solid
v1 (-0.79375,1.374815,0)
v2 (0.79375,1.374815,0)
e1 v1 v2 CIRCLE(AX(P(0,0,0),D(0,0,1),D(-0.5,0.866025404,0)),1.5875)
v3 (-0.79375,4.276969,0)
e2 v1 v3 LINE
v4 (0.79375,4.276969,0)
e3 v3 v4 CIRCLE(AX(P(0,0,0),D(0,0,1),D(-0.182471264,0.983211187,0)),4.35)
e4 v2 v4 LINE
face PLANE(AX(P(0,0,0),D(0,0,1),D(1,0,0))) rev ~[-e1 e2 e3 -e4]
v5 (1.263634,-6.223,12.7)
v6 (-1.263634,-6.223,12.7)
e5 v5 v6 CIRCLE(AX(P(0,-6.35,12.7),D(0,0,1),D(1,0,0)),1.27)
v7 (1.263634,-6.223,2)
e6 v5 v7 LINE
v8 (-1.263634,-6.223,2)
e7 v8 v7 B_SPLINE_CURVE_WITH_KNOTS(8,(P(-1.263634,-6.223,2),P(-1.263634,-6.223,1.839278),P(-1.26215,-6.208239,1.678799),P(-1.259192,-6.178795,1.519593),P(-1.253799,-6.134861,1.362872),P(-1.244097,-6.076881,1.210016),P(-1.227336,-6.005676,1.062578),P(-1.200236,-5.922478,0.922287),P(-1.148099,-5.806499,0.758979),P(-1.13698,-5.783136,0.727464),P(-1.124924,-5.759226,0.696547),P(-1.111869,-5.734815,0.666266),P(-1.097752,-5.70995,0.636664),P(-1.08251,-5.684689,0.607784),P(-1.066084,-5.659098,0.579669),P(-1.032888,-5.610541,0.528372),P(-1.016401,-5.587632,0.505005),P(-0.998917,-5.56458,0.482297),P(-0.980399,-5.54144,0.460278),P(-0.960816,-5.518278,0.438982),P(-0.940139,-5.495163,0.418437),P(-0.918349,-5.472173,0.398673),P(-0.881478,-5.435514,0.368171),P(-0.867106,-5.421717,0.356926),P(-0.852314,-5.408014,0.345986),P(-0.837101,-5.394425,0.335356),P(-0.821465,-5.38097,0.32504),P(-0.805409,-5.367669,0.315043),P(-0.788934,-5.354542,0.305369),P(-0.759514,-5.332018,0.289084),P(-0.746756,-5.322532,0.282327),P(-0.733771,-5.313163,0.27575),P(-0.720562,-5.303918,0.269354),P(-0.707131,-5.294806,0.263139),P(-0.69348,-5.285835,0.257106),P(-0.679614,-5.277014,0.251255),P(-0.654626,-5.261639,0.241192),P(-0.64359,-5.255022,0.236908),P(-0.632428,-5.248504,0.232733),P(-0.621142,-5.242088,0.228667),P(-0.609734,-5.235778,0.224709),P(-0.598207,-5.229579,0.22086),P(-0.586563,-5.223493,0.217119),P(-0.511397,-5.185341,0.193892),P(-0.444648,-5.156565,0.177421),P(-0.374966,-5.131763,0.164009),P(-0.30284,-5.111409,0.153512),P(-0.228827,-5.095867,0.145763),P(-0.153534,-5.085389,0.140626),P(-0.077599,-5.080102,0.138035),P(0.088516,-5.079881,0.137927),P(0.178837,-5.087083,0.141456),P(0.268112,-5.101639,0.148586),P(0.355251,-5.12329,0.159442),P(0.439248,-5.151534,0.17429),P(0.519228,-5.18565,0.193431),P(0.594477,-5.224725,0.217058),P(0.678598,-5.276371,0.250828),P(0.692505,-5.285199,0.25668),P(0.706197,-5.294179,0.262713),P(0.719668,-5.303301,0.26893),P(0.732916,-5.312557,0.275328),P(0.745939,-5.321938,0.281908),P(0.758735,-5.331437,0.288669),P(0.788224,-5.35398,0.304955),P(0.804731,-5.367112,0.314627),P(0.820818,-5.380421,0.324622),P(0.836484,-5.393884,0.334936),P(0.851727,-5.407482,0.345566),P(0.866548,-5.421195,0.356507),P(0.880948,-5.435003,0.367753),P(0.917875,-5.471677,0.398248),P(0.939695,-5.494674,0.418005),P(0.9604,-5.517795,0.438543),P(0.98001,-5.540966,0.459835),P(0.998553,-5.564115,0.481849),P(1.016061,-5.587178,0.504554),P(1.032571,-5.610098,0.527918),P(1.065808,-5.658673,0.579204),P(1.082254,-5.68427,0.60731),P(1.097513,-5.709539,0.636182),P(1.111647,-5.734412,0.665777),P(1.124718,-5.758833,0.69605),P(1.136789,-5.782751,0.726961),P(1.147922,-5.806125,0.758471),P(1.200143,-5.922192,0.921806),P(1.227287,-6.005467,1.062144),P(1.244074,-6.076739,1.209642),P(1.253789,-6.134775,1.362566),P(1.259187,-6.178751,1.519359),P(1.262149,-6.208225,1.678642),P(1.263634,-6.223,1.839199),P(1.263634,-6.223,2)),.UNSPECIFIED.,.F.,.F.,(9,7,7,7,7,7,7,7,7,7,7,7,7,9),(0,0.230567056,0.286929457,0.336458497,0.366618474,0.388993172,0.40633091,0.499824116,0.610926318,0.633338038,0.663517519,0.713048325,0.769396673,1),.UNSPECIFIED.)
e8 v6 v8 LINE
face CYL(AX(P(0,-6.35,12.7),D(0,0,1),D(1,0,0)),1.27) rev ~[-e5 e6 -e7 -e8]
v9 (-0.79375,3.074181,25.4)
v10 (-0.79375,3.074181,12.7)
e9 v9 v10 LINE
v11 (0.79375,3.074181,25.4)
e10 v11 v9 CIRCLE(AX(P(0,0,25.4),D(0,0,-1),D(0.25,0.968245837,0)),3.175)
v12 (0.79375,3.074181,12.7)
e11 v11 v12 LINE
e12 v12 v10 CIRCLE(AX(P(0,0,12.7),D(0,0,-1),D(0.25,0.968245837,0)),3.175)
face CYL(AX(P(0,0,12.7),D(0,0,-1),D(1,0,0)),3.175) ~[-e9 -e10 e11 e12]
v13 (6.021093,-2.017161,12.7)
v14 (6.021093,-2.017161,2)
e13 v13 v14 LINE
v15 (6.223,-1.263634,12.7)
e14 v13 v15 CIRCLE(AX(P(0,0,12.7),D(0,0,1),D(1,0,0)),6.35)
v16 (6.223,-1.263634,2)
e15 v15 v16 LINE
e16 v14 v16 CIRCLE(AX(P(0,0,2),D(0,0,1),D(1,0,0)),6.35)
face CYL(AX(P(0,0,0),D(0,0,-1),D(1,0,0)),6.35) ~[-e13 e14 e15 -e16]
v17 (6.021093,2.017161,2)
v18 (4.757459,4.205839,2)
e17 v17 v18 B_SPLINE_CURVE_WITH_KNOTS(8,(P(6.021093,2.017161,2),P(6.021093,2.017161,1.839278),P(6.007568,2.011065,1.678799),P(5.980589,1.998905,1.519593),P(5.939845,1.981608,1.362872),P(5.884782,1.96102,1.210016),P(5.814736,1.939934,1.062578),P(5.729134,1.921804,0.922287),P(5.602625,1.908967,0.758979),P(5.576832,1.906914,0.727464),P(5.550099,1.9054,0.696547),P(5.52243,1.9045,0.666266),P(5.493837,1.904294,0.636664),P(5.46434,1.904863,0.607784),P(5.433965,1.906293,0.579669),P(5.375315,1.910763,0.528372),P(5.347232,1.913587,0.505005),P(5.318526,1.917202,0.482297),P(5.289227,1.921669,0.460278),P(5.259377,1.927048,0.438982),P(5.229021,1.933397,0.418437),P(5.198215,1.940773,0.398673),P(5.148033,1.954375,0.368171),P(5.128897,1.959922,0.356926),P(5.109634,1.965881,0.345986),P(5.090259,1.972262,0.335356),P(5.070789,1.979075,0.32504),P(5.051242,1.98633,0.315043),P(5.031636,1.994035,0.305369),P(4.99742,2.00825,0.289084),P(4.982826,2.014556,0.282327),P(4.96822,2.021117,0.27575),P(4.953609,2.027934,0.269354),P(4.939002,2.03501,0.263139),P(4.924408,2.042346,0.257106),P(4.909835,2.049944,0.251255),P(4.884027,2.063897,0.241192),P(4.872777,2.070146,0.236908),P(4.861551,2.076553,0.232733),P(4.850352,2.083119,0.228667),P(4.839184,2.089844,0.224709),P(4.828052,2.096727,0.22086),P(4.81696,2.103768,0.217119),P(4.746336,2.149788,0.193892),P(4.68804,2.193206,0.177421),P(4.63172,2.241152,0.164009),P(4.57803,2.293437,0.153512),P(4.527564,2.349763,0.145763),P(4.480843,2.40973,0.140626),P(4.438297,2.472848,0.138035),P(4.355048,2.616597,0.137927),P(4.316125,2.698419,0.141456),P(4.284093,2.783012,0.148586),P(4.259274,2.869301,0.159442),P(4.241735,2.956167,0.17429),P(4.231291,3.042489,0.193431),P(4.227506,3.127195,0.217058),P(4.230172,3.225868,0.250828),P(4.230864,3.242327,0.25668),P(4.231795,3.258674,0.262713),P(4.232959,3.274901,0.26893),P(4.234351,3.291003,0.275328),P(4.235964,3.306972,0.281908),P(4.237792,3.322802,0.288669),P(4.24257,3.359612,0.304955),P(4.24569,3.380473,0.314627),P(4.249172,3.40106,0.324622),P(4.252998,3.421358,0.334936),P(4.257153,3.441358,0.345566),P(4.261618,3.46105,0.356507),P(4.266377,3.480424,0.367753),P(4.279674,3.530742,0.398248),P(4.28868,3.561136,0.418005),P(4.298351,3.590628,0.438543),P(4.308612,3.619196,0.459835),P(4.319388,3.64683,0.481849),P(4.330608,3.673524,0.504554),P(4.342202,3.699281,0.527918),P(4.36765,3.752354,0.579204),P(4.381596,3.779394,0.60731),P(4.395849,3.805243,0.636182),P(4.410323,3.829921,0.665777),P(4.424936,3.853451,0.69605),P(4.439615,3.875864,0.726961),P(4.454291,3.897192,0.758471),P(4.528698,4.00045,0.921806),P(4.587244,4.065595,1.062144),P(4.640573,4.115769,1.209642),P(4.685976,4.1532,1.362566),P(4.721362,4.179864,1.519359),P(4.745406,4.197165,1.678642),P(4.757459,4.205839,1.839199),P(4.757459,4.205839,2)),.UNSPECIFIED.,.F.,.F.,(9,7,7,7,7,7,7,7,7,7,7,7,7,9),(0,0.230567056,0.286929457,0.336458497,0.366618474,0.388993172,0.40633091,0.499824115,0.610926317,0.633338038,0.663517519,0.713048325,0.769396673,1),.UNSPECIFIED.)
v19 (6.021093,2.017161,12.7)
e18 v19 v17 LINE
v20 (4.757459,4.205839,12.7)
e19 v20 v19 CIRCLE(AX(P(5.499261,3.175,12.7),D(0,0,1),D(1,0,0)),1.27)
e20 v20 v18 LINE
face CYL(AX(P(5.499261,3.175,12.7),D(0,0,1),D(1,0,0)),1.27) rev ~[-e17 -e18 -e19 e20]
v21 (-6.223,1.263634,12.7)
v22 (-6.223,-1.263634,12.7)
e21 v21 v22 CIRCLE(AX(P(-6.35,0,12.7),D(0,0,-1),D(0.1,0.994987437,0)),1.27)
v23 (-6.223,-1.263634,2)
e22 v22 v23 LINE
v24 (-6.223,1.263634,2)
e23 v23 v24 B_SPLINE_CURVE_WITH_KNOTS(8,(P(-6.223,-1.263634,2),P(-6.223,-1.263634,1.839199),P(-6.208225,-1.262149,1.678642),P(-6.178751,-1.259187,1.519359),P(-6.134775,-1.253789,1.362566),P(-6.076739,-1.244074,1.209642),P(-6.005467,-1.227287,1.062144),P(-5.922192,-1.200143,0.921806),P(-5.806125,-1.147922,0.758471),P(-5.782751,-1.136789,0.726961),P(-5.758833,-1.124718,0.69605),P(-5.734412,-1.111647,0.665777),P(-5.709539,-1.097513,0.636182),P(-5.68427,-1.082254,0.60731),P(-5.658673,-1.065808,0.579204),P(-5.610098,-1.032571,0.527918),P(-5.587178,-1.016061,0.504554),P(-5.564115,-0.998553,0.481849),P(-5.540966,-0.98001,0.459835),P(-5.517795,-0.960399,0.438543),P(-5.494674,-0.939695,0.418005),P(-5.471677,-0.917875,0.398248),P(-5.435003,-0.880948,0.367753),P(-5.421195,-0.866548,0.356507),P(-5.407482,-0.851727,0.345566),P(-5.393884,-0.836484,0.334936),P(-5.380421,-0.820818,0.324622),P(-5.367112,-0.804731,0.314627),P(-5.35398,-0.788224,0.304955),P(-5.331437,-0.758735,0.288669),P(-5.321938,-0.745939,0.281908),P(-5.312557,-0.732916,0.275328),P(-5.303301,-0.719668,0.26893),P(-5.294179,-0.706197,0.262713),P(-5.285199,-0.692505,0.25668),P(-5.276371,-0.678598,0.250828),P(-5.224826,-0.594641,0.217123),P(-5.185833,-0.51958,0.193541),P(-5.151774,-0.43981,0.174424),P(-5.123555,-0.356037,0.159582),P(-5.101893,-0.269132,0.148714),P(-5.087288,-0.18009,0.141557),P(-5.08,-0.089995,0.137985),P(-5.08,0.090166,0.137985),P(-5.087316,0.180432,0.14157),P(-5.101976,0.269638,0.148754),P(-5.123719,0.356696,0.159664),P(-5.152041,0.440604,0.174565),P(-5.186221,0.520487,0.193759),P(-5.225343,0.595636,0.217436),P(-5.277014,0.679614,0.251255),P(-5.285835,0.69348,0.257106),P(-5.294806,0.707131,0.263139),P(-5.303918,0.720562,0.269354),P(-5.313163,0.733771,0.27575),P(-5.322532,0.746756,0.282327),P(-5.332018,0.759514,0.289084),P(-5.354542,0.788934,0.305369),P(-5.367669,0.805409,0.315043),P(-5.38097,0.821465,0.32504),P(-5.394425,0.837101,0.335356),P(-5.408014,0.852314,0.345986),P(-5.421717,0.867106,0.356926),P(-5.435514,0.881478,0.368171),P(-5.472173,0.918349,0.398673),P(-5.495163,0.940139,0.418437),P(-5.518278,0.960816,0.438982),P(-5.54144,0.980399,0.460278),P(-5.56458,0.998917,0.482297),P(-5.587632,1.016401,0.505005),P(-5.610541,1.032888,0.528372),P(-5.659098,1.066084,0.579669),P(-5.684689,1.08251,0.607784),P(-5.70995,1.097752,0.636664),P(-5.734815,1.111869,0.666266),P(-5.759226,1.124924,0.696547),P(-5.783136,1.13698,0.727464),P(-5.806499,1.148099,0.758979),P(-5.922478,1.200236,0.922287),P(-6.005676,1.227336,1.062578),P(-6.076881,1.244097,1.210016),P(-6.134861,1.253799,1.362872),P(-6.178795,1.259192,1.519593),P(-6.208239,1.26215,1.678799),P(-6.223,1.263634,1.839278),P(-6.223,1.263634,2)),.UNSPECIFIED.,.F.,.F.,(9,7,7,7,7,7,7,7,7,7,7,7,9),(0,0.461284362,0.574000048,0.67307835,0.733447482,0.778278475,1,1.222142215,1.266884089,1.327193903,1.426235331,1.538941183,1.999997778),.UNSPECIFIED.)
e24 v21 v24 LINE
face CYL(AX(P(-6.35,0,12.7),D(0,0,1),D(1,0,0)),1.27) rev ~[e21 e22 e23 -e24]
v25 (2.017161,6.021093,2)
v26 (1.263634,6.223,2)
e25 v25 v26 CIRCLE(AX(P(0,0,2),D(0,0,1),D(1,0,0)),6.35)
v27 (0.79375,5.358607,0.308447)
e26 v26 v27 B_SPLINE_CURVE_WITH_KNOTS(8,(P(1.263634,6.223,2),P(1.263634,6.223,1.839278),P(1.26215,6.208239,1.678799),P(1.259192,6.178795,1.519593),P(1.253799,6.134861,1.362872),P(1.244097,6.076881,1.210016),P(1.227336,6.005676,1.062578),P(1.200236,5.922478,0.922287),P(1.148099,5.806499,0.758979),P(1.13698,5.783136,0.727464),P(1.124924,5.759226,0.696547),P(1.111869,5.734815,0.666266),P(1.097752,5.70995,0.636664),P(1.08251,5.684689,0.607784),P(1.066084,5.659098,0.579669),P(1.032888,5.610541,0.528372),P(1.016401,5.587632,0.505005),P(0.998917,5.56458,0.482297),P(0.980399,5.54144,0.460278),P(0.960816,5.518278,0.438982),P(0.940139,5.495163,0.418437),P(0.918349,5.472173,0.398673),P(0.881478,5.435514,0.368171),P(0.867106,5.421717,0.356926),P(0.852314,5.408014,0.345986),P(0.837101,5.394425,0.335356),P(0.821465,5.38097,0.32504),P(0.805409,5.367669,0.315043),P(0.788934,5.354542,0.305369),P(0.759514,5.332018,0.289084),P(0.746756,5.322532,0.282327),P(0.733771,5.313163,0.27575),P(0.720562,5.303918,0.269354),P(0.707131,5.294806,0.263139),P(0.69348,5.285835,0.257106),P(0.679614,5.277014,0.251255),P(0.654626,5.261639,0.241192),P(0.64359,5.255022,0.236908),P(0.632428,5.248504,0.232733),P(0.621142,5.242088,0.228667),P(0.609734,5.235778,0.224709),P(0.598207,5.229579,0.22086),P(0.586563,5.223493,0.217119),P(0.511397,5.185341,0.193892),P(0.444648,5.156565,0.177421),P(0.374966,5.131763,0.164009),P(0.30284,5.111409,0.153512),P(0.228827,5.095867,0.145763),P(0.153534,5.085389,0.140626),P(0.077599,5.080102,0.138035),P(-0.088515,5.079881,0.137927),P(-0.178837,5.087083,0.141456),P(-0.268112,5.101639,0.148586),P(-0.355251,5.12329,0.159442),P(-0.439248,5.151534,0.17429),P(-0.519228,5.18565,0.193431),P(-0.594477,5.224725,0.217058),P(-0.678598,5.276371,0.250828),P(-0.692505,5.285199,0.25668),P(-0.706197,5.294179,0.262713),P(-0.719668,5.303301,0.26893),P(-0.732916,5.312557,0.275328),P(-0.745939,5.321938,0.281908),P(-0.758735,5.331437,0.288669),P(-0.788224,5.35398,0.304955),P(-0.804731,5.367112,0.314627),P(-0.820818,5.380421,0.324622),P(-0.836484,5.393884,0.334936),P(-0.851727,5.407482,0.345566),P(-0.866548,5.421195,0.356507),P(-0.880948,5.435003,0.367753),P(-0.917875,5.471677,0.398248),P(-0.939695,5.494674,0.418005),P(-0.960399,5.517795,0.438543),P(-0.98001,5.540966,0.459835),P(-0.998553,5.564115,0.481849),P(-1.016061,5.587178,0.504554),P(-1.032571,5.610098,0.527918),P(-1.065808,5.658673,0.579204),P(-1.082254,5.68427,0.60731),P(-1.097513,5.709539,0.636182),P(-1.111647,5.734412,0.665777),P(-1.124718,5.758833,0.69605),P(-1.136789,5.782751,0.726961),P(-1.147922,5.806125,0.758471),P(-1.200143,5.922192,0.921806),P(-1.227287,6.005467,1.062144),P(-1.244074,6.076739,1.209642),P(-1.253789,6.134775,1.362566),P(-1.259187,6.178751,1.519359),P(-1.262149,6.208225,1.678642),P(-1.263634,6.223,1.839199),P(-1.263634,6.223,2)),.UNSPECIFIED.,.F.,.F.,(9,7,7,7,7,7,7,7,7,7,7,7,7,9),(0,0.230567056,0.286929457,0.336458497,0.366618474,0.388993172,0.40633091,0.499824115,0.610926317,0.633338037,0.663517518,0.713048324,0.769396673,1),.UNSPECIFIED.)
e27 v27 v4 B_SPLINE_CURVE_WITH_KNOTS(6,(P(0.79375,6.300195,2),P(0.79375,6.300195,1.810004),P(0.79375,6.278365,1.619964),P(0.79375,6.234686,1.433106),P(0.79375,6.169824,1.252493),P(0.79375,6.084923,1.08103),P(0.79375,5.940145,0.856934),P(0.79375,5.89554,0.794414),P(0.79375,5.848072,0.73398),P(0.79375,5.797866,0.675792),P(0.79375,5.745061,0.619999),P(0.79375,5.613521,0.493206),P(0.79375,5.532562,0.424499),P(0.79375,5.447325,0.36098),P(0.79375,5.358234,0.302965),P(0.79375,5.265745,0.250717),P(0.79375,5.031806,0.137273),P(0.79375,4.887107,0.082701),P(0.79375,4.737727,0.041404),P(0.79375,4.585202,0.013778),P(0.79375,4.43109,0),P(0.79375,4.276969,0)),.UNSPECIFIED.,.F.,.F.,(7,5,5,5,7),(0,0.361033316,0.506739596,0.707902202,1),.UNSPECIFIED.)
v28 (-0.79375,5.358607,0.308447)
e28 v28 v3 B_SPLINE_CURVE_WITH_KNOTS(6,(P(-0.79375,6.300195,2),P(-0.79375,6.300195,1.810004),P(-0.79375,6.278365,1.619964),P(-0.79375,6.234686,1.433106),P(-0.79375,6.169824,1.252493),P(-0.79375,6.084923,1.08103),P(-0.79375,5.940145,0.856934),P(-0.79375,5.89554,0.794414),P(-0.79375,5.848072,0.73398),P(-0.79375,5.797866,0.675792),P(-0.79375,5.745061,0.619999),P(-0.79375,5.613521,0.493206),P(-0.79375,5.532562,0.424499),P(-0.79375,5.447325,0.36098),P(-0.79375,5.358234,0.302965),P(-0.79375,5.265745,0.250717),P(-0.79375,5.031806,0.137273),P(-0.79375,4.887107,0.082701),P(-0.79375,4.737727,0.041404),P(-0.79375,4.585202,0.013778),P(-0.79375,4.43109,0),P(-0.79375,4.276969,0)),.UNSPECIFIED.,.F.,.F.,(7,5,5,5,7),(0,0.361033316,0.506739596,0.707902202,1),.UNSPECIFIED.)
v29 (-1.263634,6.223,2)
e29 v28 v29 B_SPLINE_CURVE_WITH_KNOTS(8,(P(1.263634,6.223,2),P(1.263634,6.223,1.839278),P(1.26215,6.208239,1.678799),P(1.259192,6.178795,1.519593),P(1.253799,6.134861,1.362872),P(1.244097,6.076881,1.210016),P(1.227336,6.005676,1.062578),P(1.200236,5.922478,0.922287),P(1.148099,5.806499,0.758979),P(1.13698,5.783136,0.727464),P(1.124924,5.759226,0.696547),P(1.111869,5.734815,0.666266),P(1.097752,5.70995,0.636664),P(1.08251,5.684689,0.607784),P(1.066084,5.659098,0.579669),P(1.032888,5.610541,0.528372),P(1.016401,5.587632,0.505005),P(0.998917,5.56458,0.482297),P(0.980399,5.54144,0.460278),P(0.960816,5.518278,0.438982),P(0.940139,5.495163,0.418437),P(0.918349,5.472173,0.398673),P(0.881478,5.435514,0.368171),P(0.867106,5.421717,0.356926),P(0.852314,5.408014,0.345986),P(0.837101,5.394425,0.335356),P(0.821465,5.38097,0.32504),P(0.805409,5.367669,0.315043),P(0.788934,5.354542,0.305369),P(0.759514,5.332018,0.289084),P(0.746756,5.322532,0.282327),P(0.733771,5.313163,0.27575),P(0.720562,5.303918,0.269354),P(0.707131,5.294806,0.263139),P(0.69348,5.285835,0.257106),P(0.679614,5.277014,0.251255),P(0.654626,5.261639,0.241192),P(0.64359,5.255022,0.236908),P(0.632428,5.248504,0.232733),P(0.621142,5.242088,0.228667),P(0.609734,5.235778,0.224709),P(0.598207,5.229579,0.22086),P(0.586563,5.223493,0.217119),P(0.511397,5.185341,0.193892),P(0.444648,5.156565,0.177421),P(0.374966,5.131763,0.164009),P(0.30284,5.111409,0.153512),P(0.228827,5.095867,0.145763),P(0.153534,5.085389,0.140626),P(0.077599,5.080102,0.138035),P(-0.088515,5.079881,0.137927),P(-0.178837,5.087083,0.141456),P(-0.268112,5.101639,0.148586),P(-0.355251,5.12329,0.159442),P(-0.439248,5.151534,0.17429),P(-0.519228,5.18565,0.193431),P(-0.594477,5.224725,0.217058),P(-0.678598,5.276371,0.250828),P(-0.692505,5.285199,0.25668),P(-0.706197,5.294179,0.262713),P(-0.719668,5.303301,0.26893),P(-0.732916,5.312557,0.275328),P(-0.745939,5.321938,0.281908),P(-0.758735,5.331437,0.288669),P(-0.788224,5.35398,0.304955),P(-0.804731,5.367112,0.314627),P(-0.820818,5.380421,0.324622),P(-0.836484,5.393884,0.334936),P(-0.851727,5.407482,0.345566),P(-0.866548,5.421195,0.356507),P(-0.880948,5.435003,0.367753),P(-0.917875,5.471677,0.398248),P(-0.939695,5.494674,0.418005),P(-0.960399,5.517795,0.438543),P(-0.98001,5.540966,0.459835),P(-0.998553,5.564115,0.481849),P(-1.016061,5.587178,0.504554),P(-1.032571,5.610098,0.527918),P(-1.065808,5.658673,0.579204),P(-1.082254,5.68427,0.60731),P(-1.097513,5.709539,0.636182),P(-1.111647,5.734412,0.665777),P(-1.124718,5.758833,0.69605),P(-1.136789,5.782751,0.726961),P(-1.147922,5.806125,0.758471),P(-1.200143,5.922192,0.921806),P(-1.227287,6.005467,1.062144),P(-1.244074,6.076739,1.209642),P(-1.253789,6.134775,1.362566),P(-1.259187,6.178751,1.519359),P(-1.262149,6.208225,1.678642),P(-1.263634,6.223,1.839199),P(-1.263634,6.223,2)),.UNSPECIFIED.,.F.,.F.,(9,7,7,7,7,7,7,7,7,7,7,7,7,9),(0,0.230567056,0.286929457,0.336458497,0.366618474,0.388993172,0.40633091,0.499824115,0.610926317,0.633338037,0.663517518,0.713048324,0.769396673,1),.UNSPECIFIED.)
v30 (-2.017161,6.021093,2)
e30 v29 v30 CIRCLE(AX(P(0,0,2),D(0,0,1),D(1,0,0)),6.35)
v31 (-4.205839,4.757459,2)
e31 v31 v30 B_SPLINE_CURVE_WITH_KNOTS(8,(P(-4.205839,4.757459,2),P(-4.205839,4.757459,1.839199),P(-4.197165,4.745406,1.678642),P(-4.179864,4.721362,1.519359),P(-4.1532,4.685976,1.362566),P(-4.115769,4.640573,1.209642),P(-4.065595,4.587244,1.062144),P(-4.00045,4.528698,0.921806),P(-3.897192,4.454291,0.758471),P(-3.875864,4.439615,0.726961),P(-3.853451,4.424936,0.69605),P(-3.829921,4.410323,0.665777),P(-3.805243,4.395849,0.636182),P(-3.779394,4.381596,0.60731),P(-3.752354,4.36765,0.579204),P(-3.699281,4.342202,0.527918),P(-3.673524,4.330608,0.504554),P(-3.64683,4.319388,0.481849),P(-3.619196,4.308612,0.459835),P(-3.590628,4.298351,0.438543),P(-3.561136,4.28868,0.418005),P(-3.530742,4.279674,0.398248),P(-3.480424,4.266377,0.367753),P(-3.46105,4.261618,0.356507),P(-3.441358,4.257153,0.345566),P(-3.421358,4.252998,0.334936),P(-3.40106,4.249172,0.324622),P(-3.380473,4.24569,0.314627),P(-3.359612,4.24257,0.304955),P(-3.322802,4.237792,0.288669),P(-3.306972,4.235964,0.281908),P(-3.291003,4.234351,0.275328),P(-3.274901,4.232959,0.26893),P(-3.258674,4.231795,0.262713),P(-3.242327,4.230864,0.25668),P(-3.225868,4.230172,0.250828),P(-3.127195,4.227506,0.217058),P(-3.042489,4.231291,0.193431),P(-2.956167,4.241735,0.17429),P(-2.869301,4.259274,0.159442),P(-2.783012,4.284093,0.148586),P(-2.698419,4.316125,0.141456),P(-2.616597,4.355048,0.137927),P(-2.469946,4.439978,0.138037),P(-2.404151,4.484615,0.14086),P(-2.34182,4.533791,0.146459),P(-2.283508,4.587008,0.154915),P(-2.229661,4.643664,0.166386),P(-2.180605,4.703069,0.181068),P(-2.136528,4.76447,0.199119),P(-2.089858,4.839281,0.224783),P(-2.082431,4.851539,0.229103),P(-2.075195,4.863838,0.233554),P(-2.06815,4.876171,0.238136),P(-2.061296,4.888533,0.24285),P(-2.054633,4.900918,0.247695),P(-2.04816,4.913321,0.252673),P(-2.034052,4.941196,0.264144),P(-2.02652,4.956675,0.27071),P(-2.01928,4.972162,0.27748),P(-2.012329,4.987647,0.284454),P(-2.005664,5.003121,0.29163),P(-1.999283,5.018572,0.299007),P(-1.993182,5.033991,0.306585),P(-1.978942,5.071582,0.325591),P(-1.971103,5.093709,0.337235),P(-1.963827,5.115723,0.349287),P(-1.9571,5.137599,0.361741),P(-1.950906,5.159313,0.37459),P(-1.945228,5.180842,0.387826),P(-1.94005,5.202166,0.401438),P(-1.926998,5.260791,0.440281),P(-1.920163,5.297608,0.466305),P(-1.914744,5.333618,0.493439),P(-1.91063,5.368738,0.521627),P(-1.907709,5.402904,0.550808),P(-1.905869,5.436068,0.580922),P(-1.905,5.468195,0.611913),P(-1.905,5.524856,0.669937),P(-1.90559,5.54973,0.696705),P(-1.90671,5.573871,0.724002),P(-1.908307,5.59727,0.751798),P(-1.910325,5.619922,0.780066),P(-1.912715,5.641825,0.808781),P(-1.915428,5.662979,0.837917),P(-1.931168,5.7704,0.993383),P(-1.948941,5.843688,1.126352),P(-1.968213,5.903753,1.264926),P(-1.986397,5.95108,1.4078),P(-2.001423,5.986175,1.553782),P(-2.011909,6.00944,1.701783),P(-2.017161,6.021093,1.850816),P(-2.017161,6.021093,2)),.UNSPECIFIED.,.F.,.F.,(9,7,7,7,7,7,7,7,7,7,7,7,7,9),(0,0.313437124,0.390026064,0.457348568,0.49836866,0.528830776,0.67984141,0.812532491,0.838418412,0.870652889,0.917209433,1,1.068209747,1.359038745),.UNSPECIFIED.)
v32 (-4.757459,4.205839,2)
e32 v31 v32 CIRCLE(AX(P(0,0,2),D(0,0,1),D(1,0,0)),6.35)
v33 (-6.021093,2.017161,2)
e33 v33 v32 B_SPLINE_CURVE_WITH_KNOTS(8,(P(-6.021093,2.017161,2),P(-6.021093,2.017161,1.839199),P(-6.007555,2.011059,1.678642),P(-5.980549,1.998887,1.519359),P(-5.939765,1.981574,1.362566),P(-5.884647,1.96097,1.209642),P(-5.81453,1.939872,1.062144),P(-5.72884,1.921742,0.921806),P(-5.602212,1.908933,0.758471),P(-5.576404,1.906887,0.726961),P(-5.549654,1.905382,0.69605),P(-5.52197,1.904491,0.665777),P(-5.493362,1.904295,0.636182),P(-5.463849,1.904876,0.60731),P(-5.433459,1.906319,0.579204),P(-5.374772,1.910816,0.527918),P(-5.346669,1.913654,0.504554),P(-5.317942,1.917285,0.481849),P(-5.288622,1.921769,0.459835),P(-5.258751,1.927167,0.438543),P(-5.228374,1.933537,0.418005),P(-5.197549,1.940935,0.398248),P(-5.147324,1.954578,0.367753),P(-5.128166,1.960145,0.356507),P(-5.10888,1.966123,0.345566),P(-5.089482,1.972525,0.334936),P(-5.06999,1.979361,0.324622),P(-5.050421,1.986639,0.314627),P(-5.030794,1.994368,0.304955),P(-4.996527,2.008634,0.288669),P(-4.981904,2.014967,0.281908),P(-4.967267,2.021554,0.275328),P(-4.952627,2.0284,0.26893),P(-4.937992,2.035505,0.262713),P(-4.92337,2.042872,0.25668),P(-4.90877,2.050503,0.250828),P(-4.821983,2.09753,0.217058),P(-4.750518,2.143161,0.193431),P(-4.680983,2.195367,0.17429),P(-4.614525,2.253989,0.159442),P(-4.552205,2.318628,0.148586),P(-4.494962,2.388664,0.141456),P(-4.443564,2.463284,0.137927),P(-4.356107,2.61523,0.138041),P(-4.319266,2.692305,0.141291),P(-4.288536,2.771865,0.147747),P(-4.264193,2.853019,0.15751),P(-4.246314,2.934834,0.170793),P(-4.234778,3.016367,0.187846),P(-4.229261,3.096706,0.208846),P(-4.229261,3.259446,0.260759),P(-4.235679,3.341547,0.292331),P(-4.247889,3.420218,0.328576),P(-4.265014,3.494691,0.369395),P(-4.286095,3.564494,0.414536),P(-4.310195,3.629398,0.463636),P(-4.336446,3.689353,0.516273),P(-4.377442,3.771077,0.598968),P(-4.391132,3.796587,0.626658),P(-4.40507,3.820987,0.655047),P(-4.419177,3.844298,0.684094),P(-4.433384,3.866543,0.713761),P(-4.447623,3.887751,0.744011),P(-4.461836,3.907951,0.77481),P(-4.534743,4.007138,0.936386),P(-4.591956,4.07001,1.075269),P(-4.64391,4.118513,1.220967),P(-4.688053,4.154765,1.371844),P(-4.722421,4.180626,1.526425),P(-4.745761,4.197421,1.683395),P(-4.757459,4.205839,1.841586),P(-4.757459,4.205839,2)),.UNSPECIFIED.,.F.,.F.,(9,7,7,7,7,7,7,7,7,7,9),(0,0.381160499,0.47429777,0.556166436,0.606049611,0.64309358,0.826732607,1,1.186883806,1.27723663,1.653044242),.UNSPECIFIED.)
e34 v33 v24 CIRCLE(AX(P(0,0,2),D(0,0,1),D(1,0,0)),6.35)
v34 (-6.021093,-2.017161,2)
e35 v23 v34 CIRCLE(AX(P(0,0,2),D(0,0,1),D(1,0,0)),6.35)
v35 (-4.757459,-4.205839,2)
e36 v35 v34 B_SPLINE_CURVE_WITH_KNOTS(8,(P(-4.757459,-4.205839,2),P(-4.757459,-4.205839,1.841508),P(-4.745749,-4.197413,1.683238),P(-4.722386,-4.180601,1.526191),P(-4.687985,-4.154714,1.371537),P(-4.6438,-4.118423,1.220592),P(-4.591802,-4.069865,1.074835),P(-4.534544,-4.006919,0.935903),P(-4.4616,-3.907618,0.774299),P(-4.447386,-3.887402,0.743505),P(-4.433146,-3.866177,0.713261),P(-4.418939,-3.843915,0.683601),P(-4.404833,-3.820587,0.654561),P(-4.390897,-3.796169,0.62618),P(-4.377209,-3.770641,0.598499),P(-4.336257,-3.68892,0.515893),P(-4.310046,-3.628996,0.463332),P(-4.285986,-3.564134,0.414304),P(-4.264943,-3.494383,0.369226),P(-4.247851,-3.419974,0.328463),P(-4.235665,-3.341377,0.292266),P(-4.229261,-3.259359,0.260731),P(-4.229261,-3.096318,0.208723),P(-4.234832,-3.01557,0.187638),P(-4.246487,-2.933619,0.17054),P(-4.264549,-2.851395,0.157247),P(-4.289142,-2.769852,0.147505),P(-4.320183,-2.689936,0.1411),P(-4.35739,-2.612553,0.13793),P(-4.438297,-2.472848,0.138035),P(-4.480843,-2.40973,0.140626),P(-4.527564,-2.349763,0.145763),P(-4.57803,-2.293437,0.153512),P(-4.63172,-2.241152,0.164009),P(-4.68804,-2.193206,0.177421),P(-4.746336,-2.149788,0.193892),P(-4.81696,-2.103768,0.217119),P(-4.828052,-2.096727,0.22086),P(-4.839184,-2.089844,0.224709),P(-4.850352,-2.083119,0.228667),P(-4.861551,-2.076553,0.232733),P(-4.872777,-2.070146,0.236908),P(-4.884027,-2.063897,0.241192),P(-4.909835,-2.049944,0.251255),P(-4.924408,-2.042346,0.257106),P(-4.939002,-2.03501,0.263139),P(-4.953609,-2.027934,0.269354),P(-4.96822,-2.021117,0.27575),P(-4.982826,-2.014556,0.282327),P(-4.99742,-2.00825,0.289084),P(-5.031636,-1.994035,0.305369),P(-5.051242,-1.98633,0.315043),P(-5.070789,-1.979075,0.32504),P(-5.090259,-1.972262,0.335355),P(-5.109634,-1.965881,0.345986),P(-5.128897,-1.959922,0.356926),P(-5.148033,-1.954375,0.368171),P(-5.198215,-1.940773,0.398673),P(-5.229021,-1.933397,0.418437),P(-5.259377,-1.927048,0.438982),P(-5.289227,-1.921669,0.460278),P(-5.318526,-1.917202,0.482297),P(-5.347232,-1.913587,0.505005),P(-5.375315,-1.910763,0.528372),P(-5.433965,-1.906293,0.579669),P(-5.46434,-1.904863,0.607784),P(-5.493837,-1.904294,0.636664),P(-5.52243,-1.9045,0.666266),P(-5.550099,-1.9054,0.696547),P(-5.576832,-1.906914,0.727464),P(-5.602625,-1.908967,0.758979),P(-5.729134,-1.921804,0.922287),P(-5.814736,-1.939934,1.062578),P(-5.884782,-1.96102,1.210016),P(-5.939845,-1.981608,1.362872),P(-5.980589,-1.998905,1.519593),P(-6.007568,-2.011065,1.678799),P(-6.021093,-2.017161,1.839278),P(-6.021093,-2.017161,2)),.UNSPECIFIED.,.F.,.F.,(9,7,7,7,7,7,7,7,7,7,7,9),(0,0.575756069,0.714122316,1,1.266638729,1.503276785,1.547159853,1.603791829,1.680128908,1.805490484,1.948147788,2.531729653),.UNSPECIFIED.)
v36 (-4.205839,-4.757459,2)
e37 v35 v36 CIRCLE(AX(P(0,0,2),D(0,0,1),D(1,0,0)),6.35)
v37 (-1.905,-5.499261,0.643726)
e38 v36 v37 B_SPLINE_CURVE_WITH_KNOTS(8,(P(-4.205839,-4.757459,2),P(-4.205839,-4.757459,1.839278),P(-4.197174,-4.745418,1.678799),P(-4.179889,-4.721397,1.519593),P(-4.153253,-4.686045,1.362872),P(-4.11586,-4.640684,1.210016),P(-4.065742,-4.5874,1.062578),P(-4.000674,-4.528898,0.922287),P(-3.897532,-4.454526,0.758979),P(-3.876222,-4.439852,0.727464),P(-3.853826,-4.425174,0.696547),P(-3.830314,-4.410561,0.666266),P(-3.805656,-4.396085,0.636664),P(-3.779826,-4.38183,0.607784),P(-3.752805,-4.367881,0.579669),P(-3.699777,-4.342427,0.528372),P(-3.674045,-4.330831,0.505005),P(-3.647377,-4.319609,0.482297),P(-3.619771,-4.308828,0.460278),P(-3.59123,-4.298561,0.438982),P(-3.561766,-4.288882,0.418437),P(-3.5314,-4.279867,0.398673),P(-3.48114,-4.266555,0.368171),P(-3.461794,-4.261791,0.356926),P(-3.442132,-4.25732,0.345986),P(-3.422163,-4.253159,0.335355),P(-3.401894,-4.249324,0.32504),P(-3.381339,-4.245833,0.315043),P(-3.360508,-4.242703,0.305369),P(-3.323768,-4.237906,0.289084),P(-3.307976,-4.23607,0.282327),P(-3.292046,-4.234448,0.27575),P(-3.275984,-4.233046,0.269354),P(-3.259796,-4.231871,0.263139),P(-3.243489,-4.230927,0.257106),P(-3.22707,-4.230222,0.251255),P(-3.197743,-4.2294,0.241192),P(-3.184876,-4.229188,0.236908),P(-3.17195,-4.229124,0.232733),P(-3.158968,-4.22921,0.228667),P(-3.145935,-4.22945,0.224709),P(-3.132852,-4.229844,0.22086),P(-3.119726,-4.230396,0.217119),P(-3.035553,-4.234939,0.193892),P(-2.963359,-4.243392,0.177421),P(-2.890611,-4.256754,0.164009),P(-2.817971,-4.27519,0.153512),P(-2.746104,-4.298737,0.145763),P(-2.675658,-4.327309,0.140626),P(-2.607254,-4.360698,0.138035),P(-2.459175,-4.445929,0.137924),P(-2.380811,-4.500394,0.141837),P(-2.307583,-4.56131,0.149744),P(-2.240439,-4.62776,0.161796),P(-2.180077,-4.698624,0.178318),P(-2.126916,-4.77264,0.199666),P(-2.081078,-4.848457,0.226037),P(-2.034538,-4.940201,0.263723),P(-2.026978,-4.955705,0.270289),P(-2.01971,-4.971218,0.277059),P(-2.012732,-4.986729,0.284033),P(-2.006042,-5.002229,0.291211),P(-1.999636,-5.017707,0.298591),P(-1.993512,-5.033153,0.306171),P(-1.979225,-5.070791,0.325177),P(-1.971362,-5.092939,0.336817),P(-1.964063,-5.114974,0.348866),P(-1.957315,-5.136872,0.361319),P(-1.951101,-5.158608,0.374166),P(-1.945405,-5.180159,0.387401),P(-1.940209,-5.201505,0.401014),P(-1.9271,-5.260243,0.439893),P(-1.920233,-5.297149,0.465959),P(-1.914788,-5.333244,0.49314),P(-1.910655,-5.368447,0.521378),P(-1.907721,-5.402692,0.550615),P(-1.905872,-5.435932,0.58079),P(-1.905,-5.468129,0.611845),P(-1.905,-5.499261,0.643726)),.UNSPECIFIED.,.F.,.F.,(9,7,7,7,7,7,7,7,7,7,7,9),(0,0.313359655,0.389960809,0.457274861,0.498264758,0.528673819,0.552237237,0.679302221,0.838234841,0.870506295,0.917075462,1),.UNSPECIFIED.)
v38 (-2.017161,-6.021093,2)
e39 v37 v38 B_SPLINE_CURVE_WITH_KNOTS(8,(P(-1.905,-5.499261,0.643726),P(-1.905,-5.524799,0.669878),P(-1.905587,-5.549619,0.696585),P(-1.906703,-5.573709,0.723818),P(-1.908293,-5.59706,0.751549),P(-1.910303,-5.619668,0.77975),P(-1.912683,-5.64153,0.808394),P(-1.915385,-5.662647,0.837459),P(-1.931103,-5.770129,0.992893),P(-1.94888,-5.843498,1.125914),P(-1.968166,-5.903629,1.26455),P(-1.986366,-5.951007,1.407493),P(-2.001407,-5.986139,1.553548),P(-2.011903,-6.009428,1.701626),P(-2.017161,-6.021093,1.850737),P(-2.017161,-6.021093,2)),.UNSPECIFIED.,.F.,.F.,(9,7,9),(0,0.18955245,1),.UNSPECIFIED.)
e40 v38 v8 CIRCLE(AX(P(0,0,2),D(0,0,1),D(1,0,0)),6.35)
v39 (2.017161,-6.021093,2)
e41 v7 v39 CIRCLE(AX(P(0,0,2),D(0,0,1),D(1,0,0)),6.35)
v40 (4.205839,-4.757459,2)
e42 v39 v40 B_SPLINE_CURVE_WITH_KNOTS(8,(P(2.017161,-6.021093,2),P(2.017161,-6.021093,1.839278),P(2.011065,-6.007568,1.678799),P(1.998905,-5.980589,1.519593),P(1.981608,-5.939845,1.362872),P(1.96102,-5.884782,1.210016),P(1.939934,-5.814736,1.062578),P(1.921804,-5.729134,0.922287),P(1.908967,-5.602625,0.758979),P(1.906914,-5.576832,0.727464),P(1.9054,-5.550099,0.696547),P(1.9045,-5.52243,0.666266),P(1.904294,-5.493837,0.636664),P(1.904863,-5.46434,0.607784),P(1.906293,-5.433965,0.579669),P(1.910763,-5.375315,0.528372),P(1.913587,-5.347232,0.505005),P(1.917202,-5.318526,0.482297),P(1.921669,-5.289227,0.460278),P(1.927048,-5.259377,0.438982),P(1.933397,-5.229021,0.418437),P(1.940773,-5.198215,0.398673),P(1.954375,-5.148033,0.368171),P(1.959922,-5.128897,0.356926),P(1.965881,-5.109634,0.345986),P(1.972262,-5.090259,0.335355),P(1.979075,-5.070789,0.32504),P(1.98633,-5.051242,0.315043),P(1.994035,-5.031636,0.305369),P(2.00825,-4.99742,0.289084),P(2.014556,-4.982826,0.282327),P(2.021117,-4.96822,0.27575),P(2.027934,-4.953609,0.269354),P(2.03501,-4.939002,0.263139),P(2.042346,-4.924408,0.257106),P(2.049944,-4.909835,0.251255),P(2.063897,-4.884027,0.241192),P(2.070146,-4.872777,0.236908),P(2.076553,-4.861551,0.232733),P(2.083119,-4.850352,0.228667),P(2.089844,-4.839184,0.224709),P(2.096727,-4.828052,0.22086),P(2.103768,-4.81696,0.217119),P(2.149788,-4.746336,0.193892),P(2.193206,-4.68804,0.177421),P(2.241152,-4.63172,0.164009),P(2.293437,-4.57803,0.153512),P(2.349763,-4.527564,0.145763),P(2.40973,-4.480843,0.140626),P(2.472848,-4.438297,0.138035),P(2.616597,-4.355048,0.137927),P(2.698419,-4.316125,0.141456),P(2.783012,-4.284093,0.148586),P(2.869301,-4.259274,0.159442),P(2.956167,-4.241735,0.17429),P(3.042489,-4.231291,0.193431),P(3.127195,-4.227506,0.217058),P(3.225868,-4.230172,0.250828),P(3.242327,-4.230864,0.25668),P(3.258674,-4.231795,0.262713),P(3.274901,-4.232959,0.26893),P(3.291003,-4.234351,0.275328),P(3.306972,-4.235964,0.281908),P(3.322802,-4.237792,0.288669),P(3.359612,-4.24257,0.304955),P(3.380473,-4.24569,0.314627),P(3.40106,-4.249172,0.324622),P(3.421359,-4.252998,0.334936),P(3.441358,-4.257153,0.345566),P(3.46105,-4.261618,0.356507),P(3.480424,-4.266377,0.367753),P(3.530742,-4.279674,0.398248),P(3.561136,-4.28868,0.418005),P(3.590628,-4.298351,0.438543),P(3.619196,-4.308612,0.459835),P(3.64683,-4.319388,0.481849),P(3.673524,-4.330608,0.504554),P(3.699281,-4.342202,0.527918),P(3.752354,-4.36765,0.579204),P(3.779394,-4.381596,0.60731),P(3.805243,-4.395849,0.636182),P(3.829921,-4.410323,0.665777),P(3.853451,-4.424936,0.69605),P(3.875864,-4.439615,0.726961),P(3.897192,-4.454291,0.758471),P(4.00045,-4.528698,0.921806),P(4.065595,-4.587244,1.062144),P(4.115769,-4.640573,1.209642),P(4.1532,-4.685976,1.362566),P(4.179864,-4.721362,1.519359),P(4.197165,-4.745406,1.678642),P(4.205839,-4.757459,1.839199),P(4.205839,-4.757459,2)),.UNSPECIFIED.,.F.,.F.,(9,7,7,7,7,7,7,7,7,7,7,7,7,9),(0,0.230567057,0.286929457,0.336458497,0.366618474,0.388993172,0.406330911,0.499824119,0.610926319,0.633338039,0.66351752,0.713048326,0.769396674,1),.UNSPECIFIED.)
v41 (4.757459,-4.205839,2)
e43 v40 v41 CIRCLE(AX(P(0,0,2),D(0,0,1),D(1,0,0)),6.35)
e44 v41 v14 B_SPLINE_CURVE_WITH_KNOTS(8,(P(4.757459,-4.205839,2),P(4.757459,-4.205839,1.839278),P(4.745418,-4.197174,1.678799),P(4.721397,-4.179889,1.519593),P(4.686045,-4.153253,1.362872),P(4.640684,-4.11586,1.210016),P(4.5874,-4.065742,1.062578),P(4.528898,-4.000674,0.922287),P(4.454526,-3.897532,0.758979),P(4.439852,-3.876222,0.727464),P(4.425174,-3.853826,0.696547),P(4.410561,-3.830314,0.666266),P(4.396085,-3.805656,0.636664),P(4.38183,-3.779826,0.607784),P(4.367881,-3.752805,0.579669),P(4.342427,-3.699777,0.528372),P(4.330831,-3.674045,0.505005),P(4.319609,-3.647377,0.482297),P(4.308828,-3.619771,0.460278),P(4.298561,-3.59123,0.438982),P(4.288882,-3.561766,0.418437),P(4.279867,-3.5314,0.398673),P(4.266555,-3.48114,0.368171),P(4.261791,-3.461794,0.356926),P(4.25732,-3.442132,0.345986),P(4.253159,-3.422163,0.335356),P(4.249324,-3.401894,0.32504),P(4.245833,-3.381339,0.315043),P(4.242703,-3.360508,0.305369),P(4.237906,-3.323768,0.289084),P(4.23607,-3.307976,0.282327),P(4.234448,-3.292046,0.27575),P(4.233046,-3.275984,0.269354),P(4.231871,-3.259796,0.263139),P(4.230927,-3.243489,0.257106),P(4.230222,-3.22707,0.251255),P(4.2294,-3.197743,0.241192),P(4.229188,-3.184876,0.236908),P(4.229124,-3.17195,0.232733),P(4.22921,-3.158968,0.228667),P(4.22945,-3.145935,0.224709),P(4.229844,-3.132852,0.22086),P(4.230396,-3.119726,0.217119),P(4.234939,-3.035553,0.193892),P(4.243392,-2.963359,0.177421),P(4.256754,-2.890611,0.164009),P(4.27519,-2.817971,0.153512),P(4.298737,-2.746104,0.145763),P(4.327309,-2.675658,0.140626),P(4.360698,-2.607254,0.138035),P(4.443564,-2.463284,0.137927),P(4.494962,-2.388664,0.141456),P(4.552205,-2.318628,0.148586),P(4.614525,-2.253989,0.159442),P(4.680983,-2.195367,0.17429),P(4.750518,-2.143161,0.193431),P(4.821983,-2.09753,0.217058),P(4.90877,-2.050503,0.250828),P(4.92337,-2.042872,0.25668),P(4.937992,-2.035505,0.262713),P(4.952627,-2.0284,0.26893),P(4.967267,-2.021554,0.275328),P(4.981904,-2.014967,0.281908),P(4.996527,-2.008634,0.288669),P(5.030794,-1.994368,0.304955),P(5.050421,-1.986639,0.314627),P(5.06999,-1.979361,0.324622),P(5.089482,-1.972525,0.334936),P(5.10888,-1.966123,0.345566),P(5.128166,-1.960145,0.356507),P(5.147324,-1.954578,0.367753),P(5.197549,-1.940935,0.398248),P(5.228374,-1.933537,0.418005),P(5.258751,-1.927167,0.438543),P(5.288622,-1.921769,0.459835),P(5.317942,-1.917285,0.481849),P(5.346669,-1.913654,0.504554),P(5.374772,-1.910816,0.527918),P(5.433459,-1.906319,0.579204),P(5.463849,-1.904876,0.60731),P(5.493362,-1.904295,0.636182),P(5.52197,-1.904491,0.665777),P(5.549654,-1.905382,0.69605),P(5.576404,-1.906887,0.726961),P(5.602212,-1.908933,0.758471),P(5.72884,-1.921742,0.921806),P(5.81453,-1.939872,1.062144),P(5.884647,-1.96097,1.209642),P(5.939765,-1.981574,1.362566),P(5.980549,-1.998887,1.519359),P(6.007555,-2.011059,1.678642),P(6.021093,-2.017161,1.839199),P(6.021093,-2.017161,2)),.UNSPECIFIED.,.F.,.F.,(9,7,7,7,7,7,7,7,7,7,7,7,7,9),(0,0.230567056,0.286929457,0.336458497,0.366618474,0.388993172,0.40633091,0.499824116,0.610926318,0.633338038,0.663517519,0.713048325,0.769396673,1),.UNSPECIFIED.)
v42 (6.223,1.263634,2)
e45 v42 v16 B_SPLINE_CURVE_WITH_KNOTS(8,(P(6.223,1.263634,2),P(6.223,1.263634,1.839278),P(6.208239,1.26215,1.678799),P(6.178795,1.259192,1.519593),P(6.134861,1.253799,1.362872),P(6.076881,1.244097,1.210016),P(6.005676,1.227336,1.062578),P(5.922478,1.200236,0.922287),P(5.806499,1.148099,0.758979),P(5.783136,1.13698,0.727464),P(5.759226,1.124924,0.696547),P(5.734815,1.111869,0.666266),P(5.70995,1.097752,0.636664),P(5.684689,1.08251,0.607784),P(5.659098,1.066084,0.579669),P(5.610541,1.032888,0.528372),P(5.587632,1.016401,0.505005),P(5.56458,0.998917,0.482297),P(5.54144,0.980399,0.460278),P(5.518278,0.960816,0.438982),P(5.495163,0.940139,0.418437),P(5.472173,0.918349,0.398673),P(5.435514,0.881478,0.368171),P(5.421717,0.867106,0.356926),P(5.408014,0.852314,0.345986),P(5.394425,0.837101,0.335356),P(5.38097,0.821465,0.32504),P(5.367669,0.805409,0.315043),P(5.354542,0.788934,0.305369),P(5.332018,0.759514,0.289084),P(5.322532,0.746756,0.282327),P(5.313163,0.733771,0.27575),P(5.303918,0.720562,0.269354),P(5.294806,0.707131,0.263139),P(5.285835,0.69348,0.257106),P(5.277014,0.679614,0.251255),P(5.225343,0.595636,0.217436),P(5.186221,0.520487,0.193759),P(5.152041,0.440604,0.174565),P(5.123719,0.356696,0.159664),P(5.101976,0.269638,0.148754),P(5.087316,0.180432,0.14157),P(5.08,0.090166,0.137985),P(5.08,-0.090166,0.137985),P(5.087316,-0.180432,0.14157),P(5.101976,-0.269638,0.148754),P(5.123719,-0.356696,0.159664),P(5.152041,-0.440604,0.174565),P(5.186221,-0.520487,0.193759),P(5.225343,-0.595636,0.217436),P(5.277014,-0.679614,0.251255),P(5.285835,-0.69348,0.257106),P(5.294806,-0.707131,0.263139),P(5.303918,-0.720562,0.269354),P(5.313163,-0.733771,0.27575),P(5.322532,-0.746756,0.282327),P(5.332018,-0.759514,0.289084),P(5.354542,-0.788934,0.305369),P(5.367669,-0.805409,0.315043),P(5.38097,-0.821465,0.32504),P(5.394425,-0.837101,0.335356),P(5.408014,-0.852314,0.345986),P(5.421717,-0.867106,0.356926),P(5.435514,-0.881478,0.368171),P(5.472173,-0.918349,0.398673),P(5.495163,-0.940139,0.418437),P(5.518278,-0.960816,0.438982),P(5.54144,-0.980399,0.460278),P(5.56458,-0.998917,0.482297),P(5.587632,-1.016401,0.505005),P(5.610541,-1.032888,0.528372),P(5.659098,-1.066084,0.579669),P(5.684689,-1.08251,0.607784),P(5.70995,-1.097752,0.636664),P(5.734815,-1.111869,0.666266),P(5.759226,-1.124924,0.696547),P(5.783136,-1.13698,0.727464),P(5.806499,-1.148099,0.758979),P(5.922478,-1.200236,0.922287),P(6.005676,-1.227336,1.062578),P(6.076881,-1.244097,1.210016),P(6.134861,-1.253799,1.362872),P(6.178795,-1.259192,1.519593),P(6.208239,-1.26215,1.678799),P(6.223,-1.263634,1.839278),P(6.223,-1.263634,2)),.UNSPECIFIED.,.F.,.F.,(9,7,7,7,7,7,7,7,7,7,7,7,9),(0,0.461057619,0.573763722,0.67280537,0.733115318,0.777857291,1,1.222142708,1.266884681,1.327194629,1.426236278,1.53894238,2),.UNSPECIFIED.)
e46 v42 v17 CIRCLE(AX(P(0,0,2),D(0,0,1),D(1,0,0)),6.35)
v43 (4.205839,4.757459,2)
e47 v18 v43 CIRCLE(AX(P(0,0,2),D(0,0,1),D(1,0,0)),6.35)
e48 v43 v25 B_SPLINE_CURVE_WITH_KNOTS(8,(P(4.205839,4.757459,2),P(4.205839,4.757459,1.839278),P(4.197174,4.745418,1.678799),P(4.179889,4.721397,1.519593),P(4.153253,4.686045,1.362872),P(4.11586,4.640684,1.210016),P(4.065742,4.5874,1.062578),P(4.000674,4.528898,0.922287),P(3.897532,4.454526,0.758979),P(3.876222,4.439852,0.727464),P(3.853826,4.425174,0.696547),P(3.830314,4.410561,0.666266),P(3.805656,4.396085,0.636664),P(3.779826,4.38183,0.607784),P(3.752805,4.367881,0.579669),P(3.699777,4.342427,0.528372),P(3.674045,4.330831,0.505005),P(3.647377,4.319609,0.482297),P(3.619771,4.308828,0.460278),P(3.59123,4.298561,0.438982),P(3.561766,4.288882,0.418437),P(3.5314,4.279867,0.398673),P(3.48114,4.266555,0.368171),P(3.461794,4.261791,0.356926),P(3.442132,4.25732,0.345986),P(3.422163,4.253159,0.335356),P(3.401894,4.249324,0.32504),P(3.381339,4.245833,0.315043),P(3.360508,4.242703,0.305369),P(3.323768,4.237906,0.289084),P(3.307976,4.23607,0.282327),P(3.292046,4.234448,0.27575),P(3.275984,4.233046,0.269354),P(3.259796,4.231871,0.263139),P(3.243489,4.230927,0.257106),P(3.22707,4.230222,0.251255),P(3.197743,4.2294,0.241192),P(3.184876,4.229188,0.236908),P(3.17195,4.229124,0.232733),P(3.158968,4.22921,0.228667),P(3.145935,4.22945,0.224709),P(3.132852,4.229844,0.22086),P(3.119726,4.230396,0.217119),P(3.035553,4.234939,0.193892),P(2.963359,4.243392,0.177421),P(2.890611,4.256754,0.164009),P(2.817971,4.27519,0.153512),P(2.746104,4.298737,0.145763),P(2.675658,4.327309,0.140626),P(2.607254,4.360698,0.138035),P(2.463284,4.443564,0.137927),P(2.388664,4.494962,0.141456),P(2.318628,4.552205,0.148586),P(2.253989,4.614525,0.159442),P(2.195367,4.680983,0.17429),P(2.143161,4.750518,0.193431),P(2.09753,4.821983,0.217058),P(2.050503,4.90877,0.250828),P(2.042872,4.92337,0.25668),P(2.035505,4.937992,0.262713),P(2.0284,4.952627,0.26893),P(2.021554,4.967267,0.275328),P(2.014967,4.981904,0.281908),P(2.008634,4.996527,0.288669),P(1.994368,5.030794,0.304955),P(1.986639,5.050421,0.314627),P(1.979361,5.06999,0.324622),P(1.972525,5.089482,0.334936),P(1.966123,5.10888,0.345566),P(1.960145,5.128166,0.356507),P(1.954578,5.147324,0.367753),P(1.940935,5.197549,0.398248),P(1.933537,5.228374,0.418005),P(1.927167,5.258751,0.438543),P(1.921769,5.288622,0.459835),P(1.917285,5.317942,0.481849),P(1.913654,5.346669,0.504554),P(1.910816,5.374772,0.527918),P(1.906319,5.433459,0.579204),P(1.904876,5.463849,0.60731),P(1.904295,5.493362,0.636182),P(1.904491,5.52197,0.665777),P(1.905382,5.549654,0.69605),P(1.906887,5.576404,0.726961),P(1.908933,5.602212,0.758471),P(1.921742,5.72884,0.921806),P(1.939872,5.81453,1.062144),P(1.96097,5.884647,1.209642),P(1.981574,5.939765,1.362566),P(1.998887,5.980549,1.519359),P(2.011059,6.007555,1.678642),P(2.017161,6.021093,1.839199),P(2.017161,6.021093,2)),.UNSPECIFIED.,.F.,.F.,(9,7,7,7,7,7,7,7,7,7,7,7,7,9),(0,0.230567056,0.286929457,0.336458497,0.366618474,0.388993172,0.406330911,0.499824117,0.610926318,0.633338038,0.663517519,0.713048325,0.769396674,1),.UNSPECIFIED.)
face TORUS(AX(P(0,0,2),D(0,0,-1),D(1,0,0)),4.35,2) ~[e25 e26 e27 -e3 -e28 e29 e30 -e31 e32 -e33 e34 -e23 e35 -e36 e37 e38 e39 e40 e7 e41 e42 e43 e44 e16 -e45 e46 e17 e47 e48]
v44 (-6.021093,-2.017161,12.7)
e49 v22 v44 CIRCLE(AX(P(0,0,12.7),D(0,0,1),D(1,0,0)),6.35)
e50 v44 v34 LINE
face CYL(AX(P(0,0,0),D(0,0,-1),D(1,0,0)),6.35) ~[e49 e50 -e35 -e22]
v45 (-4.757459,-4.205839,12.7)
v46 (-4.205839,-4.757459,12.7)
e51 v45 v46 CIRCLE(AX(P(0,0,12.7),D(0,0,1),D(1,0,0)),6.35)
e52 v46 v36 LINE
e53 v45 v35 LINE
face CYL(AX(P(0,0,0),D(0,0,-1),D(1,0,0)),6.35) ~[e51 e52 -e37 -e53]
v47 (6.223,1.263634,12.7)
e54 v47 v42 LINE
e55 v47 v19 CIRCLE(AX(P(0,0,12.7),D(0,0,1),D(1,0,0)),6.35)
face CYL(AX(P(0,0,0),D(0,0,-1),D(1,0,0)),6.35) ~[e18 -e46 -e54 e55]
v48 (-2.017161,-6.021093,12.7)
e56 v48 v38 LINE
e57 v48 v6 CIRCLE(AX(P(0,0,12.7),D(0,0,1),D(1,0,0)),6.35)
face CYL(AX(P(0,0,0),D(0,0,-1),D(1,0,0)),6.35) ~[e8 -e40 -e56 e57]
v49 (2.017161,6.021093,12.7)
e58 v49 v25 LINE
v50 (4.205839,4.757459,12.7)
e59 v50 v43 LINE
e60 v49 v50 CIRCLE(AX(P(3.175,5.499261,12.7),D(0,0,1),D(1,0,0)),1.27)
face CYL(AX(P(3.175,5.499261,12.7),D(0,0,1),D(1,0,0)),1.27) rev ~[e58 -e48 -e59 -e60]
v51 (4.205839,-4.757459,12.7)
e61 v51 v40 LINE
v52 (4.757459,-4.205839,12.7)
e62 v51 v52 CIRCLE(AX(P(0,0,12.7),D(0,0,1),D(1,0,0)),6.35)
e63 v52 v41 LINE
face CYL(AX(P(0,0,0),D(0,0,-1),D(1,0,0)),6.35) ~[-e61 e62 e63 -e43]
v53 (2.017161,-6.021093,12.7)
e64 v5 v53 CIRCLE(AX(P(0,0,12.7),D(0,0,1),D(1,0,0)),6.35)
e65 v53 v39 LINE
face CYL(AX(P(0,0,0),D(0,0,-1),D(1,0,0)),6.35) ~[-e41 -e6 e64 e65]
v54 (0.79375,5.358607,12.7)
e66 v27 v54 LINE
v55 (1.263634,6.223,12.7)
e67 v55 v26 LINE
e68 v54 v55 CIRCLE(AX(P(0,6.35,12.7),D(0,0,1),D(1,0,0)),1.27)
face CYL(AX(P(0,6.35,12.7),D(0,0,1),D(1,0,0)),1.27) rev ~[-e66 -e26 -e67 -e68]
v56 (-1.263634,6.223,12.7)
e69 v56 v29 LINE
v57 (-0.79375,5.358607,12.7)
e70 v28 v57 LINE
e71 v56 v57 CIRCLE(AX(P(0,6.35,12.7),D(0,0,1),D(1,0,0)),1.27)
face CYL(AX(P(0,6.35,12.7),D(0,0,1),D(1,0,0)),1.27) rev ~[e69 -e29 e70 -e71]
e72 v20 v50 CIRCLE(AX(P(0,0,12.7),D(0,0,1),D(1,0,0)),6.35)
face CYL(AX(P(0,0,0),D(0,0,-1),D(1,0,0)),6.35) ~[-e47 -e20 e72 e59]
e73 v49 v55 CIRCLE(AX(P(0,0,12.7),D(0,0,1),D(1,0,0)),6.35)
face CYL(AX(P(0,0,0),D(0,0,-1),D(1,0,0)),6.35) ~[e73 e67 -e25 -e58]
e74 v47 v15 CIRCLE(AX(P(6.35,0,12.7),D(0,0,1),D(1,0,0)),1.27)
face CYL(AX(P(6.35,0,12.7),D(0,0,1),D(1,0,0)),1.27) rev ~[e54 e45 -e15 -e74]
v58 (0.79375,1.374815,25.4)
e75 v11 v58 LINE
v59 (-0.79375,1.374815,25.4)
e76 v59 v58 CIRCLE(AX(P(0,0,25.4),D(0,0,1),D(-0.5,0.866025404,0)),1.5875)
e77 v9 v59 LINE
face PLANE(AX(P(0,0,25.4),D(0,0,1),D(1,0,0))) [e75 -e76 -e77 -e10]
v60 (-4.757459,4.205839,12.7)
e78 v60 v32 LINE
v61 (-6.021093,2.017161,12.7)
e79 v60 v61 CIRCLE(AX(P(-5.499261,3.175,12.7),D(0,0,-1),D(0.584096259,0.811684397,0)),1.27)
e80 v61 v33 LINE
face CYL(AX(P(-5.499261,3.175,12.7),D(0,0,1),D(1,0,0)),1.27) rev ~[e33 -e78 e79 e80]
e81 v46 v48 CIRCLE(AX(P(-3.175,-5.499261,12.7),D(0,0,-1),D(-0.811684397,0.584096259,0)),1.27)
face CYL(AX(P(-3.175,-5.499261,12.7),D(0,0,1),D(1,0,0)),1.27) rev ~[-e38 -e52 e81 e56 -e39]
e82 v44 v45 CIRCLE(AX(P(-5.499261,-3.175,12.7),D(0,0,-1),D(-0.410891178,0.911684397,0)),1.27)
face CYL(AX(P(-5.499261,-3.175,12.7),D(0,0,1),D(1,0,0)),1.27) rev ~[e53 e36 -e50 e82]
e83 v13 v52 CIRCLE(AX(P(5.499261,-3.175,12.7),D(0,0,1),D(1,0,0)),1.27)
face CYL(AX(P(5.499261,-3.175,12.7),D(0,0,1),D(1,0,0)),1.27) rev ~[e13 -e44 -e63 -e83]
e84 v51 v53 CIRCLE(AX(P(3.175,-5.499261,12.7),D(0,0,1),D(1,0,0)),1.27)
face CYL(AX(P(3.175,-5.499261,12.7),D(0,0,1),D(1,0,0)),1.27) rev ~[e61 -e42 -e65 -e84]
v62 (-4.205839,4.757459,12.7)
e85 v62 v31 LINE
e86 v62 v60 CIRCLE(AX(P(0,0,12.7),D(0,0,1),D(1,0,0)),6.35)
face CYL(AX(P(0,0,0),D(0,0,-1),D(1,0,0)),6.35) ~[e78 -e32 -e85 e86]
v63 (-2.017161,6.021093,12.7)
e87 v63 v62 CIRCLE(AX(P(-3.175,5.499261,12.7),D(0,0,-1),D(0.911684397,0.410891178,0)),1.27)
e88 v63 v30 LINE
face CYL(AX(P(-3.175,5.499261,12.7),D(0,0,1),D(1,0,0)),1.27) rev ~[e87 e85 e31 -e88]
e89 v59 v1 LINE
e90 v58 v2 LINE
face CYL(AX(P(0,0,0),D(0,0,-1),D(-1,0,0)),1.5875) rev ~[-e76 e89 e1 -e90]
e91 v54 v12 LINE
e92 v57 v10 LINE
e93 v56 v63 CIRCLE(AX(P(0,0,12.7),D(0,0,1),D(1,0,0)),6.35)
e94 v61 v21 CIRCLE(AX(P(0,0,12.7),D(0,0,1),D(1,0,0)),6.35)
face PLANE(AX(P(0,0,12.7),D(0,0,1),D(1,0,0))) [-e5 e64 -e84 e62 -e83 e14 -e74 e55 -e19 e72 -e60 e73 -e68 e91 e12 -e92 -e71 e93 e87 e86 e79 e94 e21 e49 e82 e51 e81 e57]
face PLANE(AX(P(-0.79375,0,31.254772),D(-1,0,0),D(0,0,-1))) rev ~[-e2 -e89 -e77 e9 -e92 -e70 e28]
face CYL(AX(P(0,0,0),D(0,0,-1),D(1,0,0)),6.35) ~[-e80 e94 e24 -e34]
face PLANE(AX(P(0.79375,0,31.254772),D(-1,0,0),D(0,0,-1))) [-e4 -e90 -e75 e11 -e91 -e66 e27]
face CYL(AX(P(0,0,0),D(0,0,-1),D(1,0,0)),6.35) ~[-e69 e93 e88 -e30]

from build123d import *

# Parameters (mm, degrees)
CROQUIS1_R              = 6.35
SALIENTE_EXTRUIR1_DEPTH = 12.7
REDONDEO2_R             = 2
CROQUIS2_R              = 1.27
CORTAR_EXTRUIR1_DEPTH   = 12.7
CROQUIS4_R              = 3.175
SALIENTE_EXTRUIR2_DEPTH = 12.7
CROQUIS3_R              = 1.5875
CORTAR_EXTRUIR2_DEPTH   = 27.881433379
CROQUIS5_W              = 1.5875
CROQUIS5_H              = 31.254771719
CORTAR_EXTRUIR3_DEPTH   = 12.7


with BuildPart() as part:
    # Croquis1 → Saliente-Extruir1 (new body)
    with BuildSketch(Plane.XY):
        Circle(CROQUIS1_R)
    extrude(amount=SALIENTE_EXTRUIR1_DEPTH)

    # Redondeo2
    redondeo2_edges = [part.edges().sort_by_distance(p)[0] for p in [
        (-6.35, 0, 0),
    ]]
    fillet(redondeo2_edges, radius=REDONDEO2_R)

    # Croquis2 → Cortar-Extruir1 (cut)
    with BuildSketch(Plane.XY.offset(12.7)):
        with Locations((-6.35, 0)):
            Circle(CROQUIS2_R)
        with Locations((-5.499261314, 3.175)):
            Circle(CROQUIS2_R)
        with Locations((-3.175, 5.499261314)):
            Circle(CROQUIS2_R)
        with Locations((0, 6.35)):
            Circle(CROQUIS2_R)
        with Locations((3.175, 5.499261314)):
            Circle(CROQUIS2_R)
        with Locations((5.499261314, 3.175)):
            Circle(CROQUIS2_R)
        with Locations((6.35, 0)):
            Circle(CROQUIS2_R)
        with Locations((5.499261314, -3.175)):
            Circle(CROQUIS2_R)
        with Locations((3.175, -5.499261314)):
            Circle(CROQUIS2_R)
        with Locations((0, -6.35)):
            Circle(CROQUIS2_R)
        with Locations((-3.175, -5.499261314)):
            Circle(CROQUIS2_R)
        with Locations((-5.499261314, -3.175)):
            Circle(CROQUIS2_R)
    extrude(amount=-CORTAR_EXTRUIR1_DEPTH, mode=Mode.SUBTRACT)

    # Croquis4 → Saliente-Extruir2 (add)
    with BuildSketch(Plane.XY.offset(12.7)):
        Circle(CROQUIS4_R)
    extrude(amount=SALIENTE_EXTRUIR2_DEPTH)

    # Croquis3 → Cortar-Extruir2 (cut, through all)
    with BuildSketch(Plane(origin=(0, 0, 0), x_dir=(-1, 0, 0), z_dir=(0, 0, -1))):
        Circle(CROQUIS3_R)
    extrude(amount=-CORTAR_EXTRUIR2_DEPTH, mode=Mode.SUBTRACT)

    # Croquis5 → Cortar-Extruir3 (cut)
    with BuildSketch(Plane(origin=(0, 0, 0), x_dir=(1, 0, 0), z_dir=(0, 1, 0))):
        with Locations((0, -15.62738586)):
            Rectangle(CROQUIS5_W, CROQUIS5_H)
    extrude(amount=CORTAR_EXTRUIR3_DEPTH, mode=Mode.SUBTRACT)


solid = part.part
